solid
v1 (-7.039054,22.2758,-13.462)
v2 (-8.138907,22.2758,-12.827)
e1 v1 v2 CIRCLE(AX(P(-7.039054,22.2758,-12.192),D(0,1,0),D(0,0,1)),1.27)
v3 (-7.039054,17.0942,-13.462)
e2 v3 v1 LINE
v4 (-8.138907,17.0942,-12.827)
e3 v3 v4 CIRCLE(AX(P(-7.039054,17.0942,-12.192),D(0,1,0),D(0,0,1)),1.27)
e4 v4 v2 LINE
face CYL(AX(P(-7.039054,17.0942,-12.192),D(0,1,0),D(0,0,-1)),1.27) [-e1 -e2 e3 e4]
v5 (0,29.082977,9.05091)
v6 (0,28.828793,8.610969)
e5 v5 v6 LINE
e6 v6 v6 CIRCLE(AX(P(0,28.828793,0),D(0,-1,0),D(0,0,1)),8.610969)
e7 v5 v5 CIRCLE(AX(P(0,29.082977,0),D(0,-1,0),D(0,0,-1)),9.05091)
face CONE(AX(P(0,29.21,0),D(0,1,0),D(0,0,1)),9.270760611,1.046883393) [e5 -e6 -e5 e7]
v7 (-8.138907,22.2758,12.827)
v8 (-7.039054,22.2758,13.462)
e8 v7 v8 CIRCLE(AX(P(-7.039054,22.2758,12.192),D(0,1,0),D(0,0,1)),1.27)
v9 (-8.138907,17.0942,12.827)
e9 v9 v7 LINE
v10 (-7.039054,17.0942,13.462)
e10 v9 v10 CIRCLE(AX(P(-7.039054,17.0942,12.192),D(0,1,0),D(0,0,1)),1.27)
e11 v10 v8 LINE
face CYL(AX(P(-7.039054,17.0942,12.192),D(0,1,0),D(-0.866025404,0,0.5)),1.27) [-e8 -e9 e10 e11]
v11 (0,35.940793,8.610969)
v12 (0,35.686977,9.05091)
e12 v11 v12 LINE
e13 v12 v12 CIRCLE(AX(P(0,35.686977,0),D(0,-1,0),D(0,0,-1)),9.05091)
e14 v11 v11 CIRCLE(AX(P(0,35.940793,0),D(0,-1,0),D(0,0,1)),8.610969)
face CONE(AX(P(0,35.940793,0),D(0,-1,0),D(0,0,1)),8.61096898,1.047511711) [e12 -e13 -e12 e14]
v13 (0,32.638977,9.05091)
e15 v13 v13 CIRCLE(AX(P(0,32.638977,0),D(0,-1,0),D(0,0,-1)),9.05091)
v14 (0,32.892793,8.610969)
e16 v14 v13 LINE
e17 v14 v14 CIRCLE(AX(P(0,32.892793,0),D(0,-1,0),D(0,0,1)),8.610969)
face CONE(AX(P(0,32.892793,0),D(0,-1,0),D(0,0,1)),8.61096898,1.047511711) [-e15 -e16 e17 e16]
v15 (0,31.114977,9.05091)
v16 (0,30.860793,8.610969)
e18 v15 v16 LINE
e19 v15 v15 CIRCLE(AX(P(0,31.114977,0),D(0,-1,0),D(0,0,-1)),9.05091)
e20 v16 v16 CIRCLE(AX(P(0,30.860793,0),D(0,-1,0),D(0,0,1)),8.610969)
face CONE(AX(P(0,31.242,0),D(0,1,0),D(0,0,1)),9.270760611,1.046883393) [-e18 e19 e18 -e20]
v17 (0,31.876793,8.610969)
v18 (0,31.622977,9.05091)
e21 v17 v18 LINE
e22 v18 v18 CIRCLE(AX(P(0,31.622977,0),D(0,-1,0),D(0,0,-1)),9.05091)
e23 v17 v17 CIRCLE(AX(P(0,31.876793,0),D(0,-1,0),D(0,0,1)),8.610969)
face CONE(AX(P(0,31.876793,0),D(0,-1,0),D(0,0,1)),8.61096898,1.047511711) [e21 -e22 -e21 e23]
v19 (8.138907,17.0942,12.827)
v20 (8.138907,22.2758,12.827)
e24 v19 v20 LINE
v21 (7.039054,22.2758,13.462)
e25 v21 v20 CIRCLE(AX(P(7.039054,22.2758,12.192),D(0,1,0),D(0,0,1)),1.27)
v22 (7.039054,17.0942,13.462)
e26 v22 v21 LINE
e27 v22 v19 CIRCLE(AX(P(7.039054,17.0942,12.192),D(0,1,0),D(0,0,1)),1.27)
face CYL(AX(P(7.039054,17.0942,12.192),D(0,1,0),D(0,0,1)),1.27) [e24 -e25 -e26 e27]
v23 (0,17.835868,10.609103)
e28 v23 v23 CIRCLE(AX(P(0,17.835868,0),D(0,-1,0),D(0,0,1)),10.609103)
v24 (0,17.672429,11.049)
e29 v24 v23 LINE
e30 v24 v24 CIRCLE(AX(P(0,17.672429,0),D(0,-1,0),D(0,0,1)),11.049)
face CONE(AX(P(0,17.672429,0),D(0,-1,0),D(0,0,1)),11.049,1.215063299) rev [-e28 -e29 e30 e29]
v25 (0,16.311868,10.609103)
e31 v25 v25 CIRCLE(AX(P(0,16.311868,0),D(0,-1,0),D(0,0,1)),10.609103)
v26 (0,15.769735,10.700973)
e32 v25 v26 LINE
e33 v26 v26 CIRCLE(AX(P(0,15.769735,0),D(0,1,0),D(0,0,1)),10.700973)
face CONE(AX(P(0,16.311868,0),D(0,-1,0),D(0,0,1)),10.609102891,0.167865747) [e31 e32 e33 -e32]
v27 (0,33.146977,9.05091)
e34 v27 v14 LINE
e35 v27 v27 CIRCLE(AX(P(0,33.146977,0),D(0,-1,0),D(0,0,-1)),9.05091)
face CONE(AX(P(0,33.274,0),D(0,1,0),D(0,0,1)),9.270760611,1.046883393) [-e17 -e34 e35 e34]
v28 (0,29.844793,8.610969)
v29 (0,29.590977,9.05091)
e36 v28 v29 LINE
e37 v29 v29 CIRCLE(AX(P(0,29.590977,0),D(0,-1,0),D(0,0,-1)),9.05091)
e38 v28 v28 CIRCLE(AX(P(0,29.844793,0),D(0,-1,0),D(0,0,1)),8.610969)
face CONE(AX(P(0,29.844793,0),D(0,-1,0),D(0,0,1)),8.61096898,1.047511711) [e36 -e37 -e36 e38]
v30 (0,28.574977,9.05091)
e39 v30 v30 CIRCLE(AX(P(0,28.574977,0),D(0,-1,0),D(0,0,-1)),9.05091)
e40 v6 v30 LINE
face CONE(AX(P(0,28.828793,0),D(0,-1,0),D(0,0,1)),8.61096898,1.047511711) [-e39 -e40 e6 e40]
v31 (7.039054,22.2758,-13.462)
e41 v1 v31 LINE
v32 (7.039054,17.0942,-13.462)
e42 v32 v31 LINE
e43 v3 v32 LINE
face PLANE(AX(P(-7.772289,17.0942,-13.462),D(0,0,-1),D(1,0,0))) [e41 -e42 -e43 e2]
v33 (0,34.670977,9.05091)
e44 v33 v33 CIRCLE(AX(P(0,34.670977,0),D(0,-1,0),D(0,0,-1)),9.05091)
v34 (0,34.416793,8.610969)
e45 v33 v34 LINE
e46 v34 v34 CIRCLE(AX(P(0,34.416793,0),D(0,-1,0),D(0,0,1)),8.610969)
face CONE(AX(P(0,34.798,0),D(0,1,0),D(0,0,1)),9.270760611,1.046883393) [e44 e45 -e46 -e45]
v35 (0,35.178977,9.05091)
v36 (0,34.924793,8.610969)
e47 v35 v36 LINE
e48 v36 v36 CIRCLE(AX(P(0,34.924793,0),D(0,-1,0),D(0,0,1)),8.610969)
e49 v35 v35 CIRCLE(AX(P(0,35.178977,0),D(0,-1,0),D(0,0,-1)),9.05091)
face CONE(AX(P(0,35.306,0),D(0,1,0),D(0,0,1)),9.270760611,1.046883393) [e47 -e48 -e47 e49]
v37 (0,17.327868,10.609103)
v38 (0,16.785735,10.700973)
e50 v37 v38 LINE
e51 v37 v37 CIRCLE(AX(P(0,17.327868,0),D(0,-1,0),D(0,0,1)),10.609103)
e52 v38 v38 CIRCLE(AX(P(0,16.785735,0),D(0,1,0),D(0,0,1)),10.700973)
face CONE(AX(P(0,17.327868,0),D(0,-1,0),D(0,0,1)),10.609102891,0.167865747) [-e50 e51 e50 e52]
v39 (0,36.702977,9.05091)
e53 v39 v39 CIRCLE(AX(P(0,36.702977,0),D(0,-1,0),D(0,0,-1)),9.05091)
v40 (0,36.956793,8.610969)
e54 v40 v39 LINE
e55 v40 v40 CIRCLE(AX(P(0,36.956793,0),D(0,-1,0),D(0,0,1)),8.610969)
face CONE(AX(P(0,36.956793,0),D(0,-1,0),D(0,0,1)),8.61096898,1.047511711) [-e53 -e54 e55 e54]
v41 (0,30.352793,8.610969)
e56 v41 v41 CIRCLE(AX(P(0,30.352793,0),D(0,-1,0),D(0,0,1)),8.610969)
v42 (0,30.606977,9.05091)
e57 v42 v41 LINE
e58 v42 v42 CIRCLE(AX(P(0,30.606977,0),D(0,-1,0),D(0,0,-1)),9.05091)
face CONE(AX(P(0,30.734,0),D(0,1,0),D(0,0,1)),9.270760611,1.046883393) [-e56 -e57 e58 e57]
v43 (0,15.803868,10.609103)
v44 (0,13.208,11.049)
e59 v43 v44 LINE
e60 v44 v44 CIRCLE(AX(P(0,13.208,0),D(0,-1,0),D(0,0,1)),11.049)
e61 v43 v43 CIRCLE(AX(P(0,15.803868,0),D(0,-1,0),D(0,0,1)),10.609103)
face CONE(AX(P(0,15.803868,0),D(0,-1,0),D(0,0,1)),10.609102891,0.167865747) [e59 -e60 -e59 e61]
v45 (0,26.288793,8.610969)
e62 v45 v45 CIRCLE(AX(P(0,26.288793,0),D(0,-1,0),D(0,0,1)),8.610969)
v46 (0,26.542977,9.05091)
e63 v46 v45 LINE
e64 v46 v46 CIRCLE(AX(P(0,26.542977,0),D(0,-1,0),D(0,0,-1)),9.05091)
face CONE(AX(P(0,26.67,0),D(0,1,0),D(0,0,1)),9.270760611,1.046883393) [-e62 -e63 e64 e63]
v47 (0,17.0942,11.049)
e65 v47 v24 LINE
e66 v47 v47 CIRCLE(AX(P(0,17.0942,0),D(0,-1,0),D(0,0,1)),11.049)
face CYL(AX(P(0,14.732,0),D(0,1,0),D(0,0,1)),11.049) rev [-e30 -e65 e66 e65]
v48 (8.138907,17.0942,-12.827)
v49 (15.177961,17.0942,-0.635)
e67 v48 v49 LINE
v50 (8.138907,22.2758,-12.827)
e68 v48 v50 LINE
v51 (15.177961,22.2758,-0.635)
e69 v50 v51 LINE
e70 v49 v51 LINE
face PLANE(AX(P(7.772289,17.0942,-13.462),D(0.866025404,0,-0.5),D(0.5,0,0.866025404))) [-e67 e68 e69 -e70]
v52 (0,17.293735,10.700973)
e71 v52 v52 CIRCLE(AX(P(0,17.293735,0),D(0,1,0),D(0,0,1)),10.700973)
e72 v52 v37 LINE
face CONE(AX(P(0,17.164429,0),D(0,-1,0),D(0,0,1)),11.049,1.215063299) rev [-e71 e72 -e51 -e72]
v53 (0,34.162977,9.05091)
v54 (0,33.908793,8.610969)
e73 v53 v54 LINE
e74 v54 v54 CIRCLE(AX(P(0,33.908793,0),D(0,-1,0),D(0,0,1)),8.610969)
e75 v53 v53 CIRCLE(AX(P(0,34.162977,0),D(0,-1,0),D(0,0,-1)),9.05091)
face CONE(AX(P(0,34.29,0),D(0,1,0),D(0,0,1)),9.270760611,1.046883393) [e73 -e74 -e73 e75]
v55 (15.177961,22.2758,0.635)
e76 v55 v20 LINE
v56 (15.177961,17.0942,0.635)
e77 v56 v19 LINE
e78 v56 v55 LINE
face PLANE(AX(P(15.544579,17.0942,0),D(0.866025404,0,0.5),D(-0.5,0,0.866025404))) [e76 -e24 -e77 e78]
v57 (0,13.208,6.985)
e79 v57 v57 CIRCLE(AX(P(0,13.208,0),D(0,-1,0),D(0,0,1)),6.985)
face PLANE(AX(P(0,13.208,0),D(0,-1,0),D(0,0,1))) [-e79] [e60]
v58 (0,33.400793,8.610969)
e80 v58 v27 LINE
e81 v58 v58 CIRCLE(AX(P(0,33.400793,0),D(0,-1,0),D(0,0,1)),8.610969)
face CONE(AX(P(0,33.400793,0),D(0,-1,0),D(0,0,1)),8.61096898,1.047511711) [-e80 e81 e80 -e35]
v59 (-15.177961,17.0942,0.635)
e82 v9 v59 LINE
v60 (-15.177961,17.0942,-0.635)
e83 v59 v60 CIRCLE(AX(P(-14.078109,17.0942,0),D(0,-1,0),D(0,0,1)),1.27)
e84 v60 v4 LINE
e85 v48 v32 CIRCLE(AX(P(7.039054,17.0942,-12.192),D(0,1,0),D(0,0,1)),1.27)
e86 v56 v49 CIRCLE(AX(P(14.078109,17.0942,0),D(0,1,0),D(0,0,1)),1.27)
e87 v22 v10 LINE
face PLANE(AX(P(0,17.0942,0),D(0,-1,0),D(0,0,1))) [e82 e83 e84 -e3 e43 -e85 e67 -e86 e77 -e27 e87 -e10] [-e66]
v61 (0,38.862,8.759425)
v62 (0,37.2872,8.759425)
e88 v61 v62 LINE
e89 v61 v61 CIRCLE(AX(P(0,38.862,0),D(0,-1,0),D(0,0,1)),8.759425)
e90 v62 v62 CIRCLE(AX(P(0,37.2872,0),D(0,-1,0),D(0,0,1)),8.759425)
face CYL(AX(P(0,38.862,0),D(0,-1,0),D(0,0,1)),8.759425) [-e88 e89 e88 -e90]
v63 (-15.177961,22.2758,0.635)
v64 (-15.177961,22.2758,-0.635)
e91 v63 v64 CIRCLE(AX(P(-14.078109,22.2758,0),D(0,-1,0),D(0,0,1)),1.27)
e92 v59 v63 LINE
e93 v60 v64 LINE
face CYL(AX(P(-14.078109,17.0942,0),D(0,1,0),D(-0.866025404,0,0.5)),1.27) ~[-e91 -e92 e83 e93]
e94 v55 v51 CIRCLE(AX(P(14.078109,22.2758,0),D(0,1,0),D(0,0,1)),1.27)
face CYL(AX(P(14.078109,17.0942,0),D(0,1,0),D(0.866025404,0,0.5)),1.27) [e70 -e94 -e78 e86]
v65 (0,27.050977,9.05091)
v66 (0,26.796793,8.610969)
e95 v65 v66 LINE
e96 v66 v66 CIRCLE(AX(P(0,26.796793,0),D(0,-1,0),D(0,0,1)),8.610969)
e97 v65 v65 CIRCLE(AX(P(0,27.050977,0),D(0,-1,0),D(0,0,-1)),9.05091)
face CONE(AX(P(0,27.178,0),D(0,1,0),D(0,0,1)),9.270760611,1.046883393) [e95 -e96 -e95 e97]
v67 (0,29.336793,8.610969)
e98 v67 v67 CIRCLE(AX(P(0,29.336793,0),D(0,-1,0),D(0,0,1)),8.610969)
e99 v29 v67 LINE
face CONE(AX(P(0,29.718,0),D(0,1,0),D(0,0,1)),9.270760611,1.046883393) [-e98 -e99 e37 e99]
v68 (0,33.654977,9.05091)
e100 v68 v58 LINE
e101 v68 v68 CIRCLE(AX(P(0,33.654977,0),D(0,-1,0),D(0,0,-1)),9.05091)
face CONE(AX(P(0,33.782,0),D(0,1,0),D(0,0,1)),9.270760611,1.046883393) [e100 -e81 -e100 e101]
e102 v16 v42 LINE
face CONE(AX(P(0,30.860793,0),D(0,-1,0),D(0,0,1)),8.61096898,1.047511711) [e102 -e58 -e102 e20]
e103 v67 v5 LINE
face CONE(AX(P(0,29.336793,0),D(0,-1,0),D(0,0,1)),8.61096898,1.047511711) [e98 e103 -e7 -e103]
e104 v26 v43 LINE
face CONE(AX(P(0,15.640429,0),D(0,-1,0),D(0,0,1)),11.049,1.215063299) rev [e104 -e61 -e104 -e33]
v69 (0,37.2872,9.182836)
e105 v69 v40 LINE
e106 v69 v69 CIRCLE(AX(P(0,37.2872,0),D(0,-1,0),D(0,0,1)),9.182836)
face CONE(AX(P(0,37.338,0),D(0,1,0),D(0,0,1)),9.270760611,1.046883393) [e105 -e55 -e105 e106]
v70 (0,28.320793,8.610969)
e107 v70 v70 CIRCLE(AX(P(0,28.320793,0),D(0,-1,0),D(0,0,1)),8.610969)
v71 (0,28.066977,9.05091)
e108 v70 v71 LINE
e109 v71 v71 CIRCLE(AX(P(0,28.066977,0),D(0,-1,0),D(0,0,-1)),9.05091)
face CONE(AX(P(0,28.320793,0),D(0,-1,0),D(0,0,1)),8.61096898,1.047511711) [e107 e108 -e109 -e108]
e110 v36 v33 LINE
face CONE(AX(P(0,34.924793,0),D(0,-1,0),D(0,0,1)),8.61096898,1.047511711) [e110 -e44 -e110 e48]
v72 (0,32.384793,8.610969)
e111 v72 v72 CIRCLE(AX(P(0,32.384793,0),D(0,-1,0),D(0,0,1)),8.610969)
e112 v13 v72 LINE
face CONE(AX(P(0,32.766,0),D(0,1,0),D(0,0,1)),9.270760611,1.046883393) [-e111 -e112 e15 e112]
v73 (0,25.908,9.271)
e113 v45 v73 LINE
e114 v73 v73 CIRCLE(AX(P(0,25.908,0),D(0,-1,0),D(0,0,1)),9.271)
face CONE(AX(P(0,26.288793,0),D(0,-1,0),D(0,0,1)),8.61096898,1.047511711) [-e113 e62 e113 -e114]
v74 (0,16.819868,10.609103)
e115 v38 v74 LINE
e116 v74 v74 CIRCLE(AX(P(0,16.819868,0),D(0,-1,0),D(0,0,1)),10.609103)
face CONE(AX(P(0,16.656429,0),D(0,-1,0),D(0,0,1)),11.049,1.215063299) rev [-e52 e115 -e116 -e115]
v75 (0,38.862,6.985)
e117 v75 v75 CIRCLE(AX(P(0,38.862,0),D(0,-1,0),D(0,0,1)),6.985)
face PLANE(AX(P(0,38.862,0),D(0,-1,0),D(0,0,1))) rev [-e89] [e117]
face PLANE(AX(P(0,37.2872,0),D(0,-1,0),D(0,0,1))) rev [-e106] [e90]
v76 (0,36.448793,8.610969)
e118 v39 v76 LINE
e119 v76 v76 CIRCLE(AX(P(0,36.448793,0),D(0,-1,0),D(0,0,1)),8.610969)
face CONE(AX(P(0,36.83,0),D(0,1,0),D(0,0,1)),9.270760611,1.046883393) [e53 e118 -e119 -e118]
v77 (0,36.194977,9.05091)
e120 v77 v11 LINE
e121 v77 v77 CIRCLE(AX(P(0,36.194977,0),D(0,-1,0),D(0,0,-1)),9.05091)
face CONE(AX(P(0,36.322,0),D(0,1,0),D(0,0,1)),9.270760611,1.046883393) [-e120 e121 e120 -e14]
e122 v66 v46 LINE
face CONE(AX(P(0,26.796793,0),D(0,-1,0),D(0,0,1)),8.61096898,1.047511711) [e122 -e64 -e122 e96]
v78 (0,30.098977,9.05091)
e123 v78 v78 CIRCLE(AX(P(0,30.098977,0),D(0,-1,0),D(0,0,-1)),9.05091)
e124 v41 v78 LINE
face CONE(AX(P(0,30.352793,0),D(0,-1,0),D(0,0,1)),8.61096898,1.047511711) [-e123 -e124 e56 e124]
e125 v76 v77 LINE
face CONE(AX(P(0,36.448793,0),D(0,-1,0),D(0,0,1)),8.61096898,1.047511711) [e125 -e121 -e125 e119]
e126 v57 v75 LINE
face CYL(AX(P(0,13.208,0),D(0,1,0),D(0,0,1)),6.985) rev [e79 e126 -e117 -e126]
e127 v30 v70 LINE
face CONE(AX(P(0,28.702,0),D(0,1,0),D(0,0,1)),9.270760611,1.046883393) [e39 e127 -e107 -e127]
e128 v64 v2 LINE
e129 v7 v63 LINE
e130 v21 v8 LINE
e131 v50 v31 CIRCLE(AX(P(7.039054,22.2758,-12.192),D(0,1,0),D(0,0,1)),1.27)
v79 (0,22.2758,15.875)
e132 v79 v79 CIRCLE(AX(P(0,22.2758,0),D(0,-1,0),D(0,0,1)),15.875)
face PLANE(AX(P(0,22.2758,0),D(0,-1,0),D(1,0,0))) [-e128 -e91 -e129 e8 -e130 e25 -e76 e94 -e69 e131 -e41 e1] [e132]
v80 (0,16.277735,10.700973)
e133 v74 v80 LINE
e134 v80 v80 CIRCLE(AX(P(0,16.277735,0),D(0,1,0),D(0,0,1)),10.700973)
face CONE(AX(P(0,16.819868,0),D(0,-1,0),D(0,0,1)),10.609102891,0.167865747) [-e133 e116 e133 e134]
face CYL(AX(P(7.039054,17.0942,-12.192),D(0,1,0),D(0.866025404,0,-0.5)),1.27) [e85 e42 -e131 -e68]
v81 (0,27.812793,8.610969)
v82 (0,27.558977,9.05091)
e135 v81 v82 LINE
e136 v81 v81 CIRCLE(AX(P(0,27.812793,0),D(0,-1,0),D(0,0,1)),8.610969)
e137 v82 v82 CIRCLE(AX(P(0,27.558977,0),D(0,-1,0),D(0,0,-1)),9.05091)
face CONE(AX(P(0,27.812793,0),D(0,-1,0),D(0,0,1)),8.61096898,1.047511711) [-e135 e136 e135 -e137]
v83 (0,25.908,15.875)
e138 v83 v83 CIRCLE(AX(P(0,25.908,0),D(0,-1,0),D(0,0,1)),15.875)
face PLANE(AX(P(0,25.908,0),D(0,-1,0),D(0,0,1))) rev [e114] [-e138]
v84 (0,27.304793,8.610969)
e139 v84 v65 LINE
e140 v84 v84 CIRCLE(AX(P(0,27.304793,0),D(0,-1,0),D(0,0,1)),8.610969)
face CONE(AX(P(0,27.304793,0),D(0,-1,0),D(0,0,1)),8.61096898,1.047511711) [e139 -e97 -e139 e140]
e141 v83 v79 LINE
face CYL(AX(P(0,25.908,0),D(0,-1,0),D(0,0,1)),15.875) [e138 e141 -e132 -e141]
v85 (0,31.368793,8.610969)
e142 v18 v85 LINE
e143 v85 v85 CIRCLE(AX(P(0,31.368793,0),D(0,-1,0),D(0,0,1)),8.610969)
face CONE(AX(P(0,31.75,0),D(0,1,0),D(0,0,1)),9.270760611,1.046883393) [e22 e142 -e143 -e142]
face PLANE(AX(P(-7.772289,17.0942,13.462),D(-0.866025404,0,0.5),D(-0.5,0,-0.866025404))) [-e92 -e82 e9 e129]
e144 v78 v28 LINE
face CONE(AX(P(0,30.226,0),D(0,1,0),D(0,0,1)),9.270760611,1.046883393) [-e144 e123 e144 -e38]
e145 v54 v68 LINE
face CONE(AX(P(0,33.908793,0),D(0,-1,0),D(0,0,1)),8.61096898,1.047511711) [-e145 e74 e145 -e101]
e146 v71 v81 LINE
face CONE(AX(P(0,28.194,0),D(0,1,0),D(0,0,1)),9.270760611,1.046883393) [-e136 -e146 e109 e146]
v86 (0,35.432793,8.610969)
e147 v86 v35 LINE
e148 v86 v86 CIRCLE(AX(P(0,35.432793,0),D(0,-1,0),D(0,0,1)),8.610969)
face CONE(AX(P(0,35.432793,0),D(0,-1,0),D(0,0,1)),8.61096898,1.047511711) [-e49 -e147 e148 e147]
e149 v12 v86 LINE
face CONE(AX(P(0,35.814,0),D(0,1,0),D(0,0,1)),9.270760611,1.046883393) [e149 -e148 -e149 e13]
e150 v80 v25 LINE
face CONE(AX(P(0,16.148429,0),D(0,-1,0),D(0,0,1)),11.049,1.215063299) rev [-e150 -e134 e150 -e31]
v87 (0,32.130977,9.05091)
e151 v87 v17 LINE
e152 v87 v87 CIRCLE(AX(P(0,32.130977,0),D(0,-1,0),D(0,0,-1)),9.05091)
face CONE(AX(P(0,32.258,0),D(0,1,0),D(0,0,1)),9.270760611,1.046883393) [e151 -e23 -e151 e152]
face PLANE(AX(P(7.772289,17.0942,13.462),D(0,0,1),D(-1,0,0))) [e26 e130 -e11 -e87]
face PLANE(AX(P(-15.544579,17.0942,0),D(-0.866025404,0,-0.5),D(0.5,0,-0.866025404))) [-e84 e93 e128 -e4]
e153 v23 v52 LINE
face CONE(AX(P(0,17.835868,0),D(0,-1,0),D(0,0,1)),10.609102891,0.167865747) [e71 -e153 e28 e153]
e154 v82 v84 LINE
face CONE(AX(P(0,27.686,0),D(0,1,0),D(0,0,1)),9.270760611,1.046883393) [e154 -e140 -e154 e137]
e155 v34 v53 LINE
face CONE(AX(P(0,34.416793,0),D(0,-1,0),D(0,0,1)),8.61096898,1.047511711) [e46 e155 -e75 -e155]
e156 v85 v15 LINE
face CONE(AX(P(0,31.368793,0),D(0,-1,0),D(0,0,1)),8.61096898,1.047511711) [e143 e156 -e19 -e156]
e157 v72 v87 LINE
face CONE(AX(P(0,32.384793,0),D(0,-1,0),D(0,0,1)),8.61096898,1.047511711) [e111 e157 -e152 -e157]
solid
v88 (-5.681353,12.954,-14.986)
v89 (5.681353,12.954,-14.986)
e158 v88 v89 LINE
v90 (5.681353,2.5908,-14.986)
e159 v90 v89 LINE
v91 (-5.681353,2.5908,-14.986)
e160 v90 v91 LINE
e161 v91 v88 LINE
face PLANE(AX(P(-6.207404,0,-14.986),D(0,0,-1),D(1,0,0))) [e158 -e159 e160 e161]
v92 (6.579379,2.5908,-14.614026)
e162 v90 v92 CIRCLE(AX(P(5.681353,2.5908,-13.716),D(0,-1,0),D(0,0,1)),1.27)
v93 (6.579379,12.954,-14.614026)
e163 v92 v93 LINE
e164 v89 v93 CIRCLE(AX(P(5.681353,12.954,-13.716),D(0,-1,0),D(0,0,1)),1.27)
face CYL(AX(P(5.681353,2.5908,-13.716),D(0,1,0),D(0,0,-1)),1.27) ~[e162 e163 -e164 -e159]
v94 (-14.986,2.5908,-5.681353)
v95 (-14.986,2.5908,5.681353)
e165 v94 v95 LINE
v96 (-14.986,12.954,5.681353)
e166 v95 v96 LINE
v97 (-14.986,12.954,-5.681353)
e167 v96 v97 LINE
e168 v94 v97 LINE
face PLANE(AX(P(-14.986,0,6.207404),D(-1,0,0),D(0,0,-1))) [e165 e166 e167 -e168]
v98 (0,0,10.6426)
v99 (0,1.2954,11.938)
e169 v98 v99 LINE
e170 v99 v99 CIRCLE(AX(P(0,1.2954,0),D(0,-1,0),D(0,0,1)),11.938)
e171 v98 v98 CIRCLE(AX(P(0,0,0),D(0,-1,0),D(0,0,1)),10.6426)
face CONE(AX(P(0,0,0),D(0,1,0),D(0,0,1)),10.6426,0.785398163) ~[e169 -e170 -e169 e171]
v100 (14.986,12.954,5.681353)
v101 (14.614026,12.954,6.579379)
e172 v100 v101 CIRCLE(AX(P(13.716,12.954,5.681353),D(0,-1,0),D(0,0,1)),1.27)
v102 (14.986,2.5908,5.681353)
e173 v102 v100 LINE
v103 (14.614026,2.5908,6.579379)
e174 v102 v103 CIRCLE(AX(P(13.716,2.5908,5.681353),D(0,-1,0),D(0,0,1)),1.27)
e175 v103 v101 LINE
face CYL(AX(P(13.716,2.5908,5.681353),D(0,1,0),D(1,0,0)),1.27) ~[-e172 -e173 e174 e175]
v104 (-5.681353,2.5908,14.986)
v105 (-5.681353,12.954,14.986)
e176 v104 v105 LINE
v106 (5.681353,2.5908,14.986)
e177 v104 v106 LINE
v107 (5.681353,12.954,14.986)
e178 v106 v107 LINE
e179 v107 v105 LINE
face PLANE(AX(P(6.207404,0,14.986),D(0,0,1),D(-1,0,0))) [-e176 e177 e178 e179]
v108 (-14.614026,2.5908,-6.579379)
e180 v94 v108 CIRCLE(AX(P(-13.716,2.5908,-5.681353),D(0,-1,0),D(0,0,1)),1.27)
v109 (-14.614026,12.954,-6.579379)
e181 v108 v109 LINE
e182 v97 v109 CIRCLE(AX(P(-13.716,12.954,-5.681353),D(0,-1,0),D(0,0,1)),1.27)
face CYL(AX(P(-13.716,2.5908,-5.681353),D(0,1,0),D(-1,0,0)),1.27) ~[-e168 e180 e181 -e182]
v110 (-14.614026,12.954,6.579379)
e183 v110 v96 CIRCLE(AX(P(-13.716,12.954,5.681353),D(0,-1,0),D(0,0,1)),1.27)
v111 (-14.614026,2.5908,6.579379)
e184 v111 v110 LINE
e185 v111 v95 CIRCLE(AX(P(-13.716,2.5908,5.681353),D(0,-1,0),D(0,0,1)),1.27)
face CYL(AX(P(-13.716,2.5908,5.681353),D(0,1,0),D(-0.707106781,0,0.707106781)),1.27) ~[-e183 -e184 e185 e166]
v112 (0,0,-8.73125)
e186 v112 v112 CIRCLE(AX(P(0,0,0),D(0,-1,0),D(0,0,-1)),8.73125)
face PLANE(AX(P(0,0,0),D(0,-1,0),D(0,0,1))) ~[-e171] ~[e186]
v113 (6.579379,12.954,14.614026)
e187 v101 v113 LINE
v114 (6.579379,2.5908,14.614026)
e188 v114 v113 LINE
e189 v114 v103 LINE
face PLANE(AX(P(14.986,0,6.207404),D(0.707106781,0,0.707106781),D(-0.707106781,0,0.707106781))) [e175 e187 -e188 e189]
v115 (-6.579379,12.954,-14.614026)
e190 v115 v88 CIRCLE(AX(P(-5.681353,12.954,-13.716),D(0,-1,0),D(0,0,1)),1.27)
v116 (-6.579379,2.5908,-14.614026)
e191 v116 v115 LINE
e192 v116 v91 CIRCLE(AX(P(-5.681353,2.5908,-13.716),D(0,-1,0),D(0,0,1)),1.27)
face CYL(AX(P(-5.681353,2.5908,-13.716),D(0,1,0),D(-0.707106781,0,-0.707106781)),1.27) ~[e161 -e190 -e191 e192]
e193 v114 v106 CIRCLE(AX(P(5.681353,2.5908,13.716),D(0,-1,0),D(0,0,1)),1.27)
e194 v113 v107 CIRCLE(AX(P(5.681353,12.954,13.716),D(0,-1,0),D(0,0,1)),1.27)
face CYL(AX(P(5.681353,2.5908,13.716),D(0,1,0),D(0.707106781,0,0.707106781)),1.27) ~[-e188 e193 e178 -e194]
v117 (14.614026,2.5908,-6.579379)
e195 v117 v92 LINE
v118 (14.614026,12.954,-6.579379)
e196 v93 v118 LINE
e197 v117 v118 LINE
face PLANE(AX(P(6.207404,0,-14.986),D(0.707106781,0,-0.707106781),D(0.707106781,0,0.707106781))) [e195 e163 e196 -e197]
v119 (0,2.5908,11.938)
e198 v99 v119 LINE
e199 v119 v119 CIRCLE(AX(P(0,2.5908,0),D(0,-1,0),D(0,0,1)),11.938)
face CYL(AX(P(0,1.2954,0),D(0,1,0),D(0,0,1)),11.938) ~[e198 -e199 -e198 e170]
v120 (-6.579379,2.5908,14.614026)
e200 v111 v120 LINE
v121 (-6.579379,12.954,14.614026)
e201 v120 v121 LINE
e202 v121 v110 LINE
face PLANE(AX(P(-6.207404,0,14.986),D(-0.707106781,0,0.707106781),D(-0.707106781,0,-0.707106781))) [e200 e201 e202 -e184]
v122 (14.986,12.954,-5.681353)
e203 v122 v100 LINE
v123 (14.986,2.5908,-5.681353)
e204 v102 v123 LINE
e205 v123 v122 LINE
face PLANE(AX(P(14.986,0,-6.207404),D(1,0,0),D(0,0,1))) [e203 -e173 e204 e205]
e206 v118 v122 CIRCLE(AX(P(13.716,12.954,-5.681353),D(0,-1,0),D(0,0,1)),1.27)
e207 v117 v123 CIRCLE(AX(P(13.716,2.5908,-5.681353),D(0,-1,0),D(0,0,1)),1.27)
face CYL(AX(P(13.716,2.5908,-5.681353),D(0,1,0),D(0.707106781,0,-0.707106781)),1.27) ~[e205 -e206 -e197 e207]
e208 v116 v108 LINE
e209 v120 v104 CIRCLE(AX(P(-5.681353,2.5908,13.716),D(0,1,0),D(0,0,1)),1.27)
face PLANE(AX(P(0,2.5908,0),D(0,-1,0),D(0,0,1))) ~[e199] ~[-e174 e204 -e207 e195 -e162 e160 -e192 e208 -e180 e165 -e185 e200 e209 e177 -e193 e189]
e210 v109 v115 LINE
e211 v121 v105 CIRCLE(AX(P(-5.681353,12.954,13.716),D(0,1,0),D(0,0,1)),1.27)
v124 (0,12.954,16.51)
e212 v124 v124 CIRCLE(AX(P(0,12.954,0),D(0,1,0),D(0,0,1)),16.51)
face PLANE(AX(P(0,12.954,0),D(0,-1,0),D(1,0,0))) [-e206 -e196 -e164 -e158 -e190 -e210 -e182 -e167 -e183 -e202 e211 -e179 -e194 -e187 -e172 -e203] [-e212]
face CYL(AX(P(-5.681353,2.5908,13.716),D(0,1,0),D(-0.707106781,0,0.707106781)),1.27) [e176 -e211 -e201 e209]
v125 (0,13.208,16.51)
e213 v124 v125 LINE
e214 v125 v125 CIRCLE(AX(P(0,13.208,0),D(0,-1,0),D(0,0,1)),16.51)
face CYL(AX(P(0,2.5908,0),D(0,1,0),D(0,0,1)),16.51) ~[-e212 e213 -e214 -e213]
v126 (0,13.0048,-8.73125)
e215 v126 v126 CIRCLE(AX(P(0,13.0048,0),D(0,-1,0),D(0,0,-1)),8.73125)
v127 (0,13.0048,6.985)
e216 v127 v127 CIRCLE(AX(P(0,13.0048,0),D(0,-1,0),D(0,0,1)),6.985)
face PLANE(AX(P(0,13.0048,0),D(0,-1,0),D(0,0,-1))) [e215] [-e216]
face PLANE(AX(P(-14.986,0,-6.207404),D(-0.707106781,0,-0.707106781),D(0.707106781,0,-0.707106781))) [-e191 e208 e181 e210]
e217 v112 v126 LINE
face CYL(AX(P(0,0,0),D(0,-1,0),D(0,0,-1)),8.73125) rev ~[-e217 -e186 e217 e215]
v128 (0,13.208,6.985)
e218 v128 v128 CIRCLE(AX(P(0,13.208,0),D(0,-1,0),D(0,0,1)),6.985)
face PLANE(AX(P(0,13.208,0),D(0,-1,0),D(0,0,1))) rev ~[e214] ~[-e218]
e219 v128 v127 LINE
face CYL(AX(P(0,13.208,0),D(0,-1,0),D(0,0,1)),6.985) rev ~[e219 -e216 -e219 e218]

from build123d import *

# Parameters (mm, degrees)
SKETCH20_R         = 8.73125
CUT_EXTRUDE5_DEPTH = 13.0048
SKETCH2_OUTSIDE_W  = 44.726
SKETCH2_OUTSIDE_H  = 44.726
CUT_EXTRUDE1_DEPTH = 12.954
SKETCH4_OUTSIDE_W  = 47.17
SKETCH4_OUTSIDE_H  = 47.17
CUT_EXTRUDE3_DEPTH = 5.1816
FILLET5_R          = 1.27
FILLET6_R          = 1.27
LPATTERN1_COUNT    = 5
LPATTERN1_PITCH    = 0.508
LPATTERN2_COUNT    = 22
LPATTERN2_PITCH    = 0.508


with BuildPart() as part:
    # Sketch1 → Revolve1 (revolve)
    with BuildSketch(Plane.XY, mode=Mode.PRIVATE) as revolve1_sk:
        Polygon((-6.985, 0), (-10.6426, 0), (-11.938, 1.2954), (-11.938, 2.5908), (-16.51, 2.5908), (-16.51, 13.208), (-6.985, 13.208), align=None)
    revolve(revolve1_sk.sketch.rotate(Axis((0, 57.39150146, 0), (0, -1, 0)), 270), axis=Axis((0, 57.39150146, 0), (0, -1, 0)))  # turned: the seam where the file's is

    # Sketch20 → Cut-Extrude5 (cut)
    with BuildSketch(Plane.XZ):
        with Locations(Location((0, 0, 0), (0, 0, 270))):  # turned: the seam where the file's is
            Circle(SKETCH20_R)
    extrude(amount=-CUT_EXTRUDE5_DEPTH, mode=Mode.SUBTRACT)

    # Sketch2 outside → Cut-Extrude1 (cut)
    with BuildSketch(Plane.XZ):
        Rectangle(SKETCH2_OUTSIDE_W, SKETCH2_OUTSIDE_H)
        Polygon((6.207404446, 14.986), (-6.207404446, 14.986), (-14.986, 6.207404446), (-14.986, -6.207404446), (-6.207404446, -14.986), (6.207404446, -14.986), (14.986, -6.207404446), (14.986, 6.207404446), align=None, mode=Mode.SUBTRACT)
    extrude(amount=-CUT_EXTRUDE1_DEPTH, mode=Mode.SUBTRACT)

    # Fillet5
    fillet5_edges = [part.edges().sort_by_distance(p)[0] for p in [
        (14.986, 7.7724, 6.207404446),
        (14.986, 7.7724, -6.207404446),
        (6.207404446, 7.7724, -14.986),
        (-6.207404446, 7.7724, -14.986),
        (-14.986, 7.7724, -6.207404446),
        (-14.986, 7.7724, 6.207404446),
        (-6.207404446, 7.7724, 14.986),
        (6.207404446, 7.7724, 14.986),
    ]]
    fillet(fillet5_edges, radius=FILLET5_R)


with BuildPart() as body_2:
    # Sketch3 → Revolve2 (revolve)
    with BuildSketch(Plane.XY, mode=Mode.PRIVATE) as revolve2_sk:
        Polygon((-11.049, 17.0942), (-11.049, 13.208), (-6.985, 13.208), (-6.985, 38.862), (-8.759425119, 38.862), (-8.759425119, 37.2872), (-9.267425119, 37.2872), (-9.271, 25.908), (-15.875, 25.908), (-15.875, 17.0942), align=None)
    revolve(revolve2_sk.sketch.rotate(Axis((0, 46.826463668, 0), (0, -1, 0)), 270), axis=Axis((0, 46.826463668, 0), (0, -1, 0)))  # turned: the seam where the file's is

    # Sketch4 outside → Cut-Extrude3 (cut)
    with BuildSketch(Plane.XZ.offset(-17.0942)):
        Rectangle(SKETCH4_OUTSIDE_W, SKETCH4_OUTSIDE_H)
        Polygon((-15.544578648, 0), (-7.772289324, -13.462), (7.772289324, -13.462), (15.544578648, 0), (7.772289324, 13.462), (-7.772289324, 13.462), align=None, mode=Mode.SUBTRACT)
    extrude(amount=-CUT_EXTRUDE3_DEPTH, mode=Mode.SUBTRACT)

    # Fillet6
    fillet6_edges = [body_2.edges().sort_by_distance(p)[0] for p in [
        (-7.772289324, 19.685, 13.462),
        (7.772289324, 19.685, 13.462),
        (15.544578648, 19.685, 0),
        (7.772289324, 19.685, -13.462),
        (-7.772289324, 19.685, -13.462),
        (-15.544578648, 19.685, 0),
    ]]
    fillet(fillet6_edges, radius=FILLET6_R)

    # Sketch7 → Cut-Revolve2 (revolve, cut)
    with BuildSketch(Plane.XY, mode=Mode.PRIVATE) as cut_revolve2_sk:
        Polygon((-11.049, 13.208), (-11.049, 15.640429402), (-10.609102891, 15.803868387), align=None)
    cut_revolve2 = revolve(cut_revolve2_sk.sketch.rotate(Axis((0, 57.39150146, 0), (0, -1, 0)), 270), axis=Axis((0, 57.39150146, 0), (0, -1, 0)), mode=Mode.SUBTRACT)  # turned: the seam where the file's is

    # LPattern1: Cut-Revolve2 ×5
    with Locations(*[(0, i * LPATTERN1_PITCH, 0) for i in range(1, LPATTERN1_COUNT)]):
        add(cut_revolve2, mode=Mode.SUBTRACT)

    # Sketch8 → Cut-Revolve3 (revolve, cut)
    with BuildSketch(Plane.XY, mode=Mode.PRIVATE) as cut_revolve3_sk:
        Polygon((-9.271, 25.908), (-9.270760611, 26.669999962), (-8.61096898, 26.288792664), align=None)
    cut_revolve3 = revolve(cut_revolve3_sk.sketch.rotate(Axis((0, 57.39150146, 0), (0, -1, 0)), 270), axis=Axis((0, 57.39150146, 0), (0, -1, 0)), mode=Mode.SUBTRACT)  # turned: the seam where the file's is

    # LPattern2: Cut-Revolve3 ×22
    with Locations(*[(0, i * LPATTERN2_PITCH, 0) for i in range(1, LPATTERN2_COUNT)]):
        add(cut_revolve3, mode=Mode.SUBTRACT)


solid = Compound([part.part, body_2.part])
